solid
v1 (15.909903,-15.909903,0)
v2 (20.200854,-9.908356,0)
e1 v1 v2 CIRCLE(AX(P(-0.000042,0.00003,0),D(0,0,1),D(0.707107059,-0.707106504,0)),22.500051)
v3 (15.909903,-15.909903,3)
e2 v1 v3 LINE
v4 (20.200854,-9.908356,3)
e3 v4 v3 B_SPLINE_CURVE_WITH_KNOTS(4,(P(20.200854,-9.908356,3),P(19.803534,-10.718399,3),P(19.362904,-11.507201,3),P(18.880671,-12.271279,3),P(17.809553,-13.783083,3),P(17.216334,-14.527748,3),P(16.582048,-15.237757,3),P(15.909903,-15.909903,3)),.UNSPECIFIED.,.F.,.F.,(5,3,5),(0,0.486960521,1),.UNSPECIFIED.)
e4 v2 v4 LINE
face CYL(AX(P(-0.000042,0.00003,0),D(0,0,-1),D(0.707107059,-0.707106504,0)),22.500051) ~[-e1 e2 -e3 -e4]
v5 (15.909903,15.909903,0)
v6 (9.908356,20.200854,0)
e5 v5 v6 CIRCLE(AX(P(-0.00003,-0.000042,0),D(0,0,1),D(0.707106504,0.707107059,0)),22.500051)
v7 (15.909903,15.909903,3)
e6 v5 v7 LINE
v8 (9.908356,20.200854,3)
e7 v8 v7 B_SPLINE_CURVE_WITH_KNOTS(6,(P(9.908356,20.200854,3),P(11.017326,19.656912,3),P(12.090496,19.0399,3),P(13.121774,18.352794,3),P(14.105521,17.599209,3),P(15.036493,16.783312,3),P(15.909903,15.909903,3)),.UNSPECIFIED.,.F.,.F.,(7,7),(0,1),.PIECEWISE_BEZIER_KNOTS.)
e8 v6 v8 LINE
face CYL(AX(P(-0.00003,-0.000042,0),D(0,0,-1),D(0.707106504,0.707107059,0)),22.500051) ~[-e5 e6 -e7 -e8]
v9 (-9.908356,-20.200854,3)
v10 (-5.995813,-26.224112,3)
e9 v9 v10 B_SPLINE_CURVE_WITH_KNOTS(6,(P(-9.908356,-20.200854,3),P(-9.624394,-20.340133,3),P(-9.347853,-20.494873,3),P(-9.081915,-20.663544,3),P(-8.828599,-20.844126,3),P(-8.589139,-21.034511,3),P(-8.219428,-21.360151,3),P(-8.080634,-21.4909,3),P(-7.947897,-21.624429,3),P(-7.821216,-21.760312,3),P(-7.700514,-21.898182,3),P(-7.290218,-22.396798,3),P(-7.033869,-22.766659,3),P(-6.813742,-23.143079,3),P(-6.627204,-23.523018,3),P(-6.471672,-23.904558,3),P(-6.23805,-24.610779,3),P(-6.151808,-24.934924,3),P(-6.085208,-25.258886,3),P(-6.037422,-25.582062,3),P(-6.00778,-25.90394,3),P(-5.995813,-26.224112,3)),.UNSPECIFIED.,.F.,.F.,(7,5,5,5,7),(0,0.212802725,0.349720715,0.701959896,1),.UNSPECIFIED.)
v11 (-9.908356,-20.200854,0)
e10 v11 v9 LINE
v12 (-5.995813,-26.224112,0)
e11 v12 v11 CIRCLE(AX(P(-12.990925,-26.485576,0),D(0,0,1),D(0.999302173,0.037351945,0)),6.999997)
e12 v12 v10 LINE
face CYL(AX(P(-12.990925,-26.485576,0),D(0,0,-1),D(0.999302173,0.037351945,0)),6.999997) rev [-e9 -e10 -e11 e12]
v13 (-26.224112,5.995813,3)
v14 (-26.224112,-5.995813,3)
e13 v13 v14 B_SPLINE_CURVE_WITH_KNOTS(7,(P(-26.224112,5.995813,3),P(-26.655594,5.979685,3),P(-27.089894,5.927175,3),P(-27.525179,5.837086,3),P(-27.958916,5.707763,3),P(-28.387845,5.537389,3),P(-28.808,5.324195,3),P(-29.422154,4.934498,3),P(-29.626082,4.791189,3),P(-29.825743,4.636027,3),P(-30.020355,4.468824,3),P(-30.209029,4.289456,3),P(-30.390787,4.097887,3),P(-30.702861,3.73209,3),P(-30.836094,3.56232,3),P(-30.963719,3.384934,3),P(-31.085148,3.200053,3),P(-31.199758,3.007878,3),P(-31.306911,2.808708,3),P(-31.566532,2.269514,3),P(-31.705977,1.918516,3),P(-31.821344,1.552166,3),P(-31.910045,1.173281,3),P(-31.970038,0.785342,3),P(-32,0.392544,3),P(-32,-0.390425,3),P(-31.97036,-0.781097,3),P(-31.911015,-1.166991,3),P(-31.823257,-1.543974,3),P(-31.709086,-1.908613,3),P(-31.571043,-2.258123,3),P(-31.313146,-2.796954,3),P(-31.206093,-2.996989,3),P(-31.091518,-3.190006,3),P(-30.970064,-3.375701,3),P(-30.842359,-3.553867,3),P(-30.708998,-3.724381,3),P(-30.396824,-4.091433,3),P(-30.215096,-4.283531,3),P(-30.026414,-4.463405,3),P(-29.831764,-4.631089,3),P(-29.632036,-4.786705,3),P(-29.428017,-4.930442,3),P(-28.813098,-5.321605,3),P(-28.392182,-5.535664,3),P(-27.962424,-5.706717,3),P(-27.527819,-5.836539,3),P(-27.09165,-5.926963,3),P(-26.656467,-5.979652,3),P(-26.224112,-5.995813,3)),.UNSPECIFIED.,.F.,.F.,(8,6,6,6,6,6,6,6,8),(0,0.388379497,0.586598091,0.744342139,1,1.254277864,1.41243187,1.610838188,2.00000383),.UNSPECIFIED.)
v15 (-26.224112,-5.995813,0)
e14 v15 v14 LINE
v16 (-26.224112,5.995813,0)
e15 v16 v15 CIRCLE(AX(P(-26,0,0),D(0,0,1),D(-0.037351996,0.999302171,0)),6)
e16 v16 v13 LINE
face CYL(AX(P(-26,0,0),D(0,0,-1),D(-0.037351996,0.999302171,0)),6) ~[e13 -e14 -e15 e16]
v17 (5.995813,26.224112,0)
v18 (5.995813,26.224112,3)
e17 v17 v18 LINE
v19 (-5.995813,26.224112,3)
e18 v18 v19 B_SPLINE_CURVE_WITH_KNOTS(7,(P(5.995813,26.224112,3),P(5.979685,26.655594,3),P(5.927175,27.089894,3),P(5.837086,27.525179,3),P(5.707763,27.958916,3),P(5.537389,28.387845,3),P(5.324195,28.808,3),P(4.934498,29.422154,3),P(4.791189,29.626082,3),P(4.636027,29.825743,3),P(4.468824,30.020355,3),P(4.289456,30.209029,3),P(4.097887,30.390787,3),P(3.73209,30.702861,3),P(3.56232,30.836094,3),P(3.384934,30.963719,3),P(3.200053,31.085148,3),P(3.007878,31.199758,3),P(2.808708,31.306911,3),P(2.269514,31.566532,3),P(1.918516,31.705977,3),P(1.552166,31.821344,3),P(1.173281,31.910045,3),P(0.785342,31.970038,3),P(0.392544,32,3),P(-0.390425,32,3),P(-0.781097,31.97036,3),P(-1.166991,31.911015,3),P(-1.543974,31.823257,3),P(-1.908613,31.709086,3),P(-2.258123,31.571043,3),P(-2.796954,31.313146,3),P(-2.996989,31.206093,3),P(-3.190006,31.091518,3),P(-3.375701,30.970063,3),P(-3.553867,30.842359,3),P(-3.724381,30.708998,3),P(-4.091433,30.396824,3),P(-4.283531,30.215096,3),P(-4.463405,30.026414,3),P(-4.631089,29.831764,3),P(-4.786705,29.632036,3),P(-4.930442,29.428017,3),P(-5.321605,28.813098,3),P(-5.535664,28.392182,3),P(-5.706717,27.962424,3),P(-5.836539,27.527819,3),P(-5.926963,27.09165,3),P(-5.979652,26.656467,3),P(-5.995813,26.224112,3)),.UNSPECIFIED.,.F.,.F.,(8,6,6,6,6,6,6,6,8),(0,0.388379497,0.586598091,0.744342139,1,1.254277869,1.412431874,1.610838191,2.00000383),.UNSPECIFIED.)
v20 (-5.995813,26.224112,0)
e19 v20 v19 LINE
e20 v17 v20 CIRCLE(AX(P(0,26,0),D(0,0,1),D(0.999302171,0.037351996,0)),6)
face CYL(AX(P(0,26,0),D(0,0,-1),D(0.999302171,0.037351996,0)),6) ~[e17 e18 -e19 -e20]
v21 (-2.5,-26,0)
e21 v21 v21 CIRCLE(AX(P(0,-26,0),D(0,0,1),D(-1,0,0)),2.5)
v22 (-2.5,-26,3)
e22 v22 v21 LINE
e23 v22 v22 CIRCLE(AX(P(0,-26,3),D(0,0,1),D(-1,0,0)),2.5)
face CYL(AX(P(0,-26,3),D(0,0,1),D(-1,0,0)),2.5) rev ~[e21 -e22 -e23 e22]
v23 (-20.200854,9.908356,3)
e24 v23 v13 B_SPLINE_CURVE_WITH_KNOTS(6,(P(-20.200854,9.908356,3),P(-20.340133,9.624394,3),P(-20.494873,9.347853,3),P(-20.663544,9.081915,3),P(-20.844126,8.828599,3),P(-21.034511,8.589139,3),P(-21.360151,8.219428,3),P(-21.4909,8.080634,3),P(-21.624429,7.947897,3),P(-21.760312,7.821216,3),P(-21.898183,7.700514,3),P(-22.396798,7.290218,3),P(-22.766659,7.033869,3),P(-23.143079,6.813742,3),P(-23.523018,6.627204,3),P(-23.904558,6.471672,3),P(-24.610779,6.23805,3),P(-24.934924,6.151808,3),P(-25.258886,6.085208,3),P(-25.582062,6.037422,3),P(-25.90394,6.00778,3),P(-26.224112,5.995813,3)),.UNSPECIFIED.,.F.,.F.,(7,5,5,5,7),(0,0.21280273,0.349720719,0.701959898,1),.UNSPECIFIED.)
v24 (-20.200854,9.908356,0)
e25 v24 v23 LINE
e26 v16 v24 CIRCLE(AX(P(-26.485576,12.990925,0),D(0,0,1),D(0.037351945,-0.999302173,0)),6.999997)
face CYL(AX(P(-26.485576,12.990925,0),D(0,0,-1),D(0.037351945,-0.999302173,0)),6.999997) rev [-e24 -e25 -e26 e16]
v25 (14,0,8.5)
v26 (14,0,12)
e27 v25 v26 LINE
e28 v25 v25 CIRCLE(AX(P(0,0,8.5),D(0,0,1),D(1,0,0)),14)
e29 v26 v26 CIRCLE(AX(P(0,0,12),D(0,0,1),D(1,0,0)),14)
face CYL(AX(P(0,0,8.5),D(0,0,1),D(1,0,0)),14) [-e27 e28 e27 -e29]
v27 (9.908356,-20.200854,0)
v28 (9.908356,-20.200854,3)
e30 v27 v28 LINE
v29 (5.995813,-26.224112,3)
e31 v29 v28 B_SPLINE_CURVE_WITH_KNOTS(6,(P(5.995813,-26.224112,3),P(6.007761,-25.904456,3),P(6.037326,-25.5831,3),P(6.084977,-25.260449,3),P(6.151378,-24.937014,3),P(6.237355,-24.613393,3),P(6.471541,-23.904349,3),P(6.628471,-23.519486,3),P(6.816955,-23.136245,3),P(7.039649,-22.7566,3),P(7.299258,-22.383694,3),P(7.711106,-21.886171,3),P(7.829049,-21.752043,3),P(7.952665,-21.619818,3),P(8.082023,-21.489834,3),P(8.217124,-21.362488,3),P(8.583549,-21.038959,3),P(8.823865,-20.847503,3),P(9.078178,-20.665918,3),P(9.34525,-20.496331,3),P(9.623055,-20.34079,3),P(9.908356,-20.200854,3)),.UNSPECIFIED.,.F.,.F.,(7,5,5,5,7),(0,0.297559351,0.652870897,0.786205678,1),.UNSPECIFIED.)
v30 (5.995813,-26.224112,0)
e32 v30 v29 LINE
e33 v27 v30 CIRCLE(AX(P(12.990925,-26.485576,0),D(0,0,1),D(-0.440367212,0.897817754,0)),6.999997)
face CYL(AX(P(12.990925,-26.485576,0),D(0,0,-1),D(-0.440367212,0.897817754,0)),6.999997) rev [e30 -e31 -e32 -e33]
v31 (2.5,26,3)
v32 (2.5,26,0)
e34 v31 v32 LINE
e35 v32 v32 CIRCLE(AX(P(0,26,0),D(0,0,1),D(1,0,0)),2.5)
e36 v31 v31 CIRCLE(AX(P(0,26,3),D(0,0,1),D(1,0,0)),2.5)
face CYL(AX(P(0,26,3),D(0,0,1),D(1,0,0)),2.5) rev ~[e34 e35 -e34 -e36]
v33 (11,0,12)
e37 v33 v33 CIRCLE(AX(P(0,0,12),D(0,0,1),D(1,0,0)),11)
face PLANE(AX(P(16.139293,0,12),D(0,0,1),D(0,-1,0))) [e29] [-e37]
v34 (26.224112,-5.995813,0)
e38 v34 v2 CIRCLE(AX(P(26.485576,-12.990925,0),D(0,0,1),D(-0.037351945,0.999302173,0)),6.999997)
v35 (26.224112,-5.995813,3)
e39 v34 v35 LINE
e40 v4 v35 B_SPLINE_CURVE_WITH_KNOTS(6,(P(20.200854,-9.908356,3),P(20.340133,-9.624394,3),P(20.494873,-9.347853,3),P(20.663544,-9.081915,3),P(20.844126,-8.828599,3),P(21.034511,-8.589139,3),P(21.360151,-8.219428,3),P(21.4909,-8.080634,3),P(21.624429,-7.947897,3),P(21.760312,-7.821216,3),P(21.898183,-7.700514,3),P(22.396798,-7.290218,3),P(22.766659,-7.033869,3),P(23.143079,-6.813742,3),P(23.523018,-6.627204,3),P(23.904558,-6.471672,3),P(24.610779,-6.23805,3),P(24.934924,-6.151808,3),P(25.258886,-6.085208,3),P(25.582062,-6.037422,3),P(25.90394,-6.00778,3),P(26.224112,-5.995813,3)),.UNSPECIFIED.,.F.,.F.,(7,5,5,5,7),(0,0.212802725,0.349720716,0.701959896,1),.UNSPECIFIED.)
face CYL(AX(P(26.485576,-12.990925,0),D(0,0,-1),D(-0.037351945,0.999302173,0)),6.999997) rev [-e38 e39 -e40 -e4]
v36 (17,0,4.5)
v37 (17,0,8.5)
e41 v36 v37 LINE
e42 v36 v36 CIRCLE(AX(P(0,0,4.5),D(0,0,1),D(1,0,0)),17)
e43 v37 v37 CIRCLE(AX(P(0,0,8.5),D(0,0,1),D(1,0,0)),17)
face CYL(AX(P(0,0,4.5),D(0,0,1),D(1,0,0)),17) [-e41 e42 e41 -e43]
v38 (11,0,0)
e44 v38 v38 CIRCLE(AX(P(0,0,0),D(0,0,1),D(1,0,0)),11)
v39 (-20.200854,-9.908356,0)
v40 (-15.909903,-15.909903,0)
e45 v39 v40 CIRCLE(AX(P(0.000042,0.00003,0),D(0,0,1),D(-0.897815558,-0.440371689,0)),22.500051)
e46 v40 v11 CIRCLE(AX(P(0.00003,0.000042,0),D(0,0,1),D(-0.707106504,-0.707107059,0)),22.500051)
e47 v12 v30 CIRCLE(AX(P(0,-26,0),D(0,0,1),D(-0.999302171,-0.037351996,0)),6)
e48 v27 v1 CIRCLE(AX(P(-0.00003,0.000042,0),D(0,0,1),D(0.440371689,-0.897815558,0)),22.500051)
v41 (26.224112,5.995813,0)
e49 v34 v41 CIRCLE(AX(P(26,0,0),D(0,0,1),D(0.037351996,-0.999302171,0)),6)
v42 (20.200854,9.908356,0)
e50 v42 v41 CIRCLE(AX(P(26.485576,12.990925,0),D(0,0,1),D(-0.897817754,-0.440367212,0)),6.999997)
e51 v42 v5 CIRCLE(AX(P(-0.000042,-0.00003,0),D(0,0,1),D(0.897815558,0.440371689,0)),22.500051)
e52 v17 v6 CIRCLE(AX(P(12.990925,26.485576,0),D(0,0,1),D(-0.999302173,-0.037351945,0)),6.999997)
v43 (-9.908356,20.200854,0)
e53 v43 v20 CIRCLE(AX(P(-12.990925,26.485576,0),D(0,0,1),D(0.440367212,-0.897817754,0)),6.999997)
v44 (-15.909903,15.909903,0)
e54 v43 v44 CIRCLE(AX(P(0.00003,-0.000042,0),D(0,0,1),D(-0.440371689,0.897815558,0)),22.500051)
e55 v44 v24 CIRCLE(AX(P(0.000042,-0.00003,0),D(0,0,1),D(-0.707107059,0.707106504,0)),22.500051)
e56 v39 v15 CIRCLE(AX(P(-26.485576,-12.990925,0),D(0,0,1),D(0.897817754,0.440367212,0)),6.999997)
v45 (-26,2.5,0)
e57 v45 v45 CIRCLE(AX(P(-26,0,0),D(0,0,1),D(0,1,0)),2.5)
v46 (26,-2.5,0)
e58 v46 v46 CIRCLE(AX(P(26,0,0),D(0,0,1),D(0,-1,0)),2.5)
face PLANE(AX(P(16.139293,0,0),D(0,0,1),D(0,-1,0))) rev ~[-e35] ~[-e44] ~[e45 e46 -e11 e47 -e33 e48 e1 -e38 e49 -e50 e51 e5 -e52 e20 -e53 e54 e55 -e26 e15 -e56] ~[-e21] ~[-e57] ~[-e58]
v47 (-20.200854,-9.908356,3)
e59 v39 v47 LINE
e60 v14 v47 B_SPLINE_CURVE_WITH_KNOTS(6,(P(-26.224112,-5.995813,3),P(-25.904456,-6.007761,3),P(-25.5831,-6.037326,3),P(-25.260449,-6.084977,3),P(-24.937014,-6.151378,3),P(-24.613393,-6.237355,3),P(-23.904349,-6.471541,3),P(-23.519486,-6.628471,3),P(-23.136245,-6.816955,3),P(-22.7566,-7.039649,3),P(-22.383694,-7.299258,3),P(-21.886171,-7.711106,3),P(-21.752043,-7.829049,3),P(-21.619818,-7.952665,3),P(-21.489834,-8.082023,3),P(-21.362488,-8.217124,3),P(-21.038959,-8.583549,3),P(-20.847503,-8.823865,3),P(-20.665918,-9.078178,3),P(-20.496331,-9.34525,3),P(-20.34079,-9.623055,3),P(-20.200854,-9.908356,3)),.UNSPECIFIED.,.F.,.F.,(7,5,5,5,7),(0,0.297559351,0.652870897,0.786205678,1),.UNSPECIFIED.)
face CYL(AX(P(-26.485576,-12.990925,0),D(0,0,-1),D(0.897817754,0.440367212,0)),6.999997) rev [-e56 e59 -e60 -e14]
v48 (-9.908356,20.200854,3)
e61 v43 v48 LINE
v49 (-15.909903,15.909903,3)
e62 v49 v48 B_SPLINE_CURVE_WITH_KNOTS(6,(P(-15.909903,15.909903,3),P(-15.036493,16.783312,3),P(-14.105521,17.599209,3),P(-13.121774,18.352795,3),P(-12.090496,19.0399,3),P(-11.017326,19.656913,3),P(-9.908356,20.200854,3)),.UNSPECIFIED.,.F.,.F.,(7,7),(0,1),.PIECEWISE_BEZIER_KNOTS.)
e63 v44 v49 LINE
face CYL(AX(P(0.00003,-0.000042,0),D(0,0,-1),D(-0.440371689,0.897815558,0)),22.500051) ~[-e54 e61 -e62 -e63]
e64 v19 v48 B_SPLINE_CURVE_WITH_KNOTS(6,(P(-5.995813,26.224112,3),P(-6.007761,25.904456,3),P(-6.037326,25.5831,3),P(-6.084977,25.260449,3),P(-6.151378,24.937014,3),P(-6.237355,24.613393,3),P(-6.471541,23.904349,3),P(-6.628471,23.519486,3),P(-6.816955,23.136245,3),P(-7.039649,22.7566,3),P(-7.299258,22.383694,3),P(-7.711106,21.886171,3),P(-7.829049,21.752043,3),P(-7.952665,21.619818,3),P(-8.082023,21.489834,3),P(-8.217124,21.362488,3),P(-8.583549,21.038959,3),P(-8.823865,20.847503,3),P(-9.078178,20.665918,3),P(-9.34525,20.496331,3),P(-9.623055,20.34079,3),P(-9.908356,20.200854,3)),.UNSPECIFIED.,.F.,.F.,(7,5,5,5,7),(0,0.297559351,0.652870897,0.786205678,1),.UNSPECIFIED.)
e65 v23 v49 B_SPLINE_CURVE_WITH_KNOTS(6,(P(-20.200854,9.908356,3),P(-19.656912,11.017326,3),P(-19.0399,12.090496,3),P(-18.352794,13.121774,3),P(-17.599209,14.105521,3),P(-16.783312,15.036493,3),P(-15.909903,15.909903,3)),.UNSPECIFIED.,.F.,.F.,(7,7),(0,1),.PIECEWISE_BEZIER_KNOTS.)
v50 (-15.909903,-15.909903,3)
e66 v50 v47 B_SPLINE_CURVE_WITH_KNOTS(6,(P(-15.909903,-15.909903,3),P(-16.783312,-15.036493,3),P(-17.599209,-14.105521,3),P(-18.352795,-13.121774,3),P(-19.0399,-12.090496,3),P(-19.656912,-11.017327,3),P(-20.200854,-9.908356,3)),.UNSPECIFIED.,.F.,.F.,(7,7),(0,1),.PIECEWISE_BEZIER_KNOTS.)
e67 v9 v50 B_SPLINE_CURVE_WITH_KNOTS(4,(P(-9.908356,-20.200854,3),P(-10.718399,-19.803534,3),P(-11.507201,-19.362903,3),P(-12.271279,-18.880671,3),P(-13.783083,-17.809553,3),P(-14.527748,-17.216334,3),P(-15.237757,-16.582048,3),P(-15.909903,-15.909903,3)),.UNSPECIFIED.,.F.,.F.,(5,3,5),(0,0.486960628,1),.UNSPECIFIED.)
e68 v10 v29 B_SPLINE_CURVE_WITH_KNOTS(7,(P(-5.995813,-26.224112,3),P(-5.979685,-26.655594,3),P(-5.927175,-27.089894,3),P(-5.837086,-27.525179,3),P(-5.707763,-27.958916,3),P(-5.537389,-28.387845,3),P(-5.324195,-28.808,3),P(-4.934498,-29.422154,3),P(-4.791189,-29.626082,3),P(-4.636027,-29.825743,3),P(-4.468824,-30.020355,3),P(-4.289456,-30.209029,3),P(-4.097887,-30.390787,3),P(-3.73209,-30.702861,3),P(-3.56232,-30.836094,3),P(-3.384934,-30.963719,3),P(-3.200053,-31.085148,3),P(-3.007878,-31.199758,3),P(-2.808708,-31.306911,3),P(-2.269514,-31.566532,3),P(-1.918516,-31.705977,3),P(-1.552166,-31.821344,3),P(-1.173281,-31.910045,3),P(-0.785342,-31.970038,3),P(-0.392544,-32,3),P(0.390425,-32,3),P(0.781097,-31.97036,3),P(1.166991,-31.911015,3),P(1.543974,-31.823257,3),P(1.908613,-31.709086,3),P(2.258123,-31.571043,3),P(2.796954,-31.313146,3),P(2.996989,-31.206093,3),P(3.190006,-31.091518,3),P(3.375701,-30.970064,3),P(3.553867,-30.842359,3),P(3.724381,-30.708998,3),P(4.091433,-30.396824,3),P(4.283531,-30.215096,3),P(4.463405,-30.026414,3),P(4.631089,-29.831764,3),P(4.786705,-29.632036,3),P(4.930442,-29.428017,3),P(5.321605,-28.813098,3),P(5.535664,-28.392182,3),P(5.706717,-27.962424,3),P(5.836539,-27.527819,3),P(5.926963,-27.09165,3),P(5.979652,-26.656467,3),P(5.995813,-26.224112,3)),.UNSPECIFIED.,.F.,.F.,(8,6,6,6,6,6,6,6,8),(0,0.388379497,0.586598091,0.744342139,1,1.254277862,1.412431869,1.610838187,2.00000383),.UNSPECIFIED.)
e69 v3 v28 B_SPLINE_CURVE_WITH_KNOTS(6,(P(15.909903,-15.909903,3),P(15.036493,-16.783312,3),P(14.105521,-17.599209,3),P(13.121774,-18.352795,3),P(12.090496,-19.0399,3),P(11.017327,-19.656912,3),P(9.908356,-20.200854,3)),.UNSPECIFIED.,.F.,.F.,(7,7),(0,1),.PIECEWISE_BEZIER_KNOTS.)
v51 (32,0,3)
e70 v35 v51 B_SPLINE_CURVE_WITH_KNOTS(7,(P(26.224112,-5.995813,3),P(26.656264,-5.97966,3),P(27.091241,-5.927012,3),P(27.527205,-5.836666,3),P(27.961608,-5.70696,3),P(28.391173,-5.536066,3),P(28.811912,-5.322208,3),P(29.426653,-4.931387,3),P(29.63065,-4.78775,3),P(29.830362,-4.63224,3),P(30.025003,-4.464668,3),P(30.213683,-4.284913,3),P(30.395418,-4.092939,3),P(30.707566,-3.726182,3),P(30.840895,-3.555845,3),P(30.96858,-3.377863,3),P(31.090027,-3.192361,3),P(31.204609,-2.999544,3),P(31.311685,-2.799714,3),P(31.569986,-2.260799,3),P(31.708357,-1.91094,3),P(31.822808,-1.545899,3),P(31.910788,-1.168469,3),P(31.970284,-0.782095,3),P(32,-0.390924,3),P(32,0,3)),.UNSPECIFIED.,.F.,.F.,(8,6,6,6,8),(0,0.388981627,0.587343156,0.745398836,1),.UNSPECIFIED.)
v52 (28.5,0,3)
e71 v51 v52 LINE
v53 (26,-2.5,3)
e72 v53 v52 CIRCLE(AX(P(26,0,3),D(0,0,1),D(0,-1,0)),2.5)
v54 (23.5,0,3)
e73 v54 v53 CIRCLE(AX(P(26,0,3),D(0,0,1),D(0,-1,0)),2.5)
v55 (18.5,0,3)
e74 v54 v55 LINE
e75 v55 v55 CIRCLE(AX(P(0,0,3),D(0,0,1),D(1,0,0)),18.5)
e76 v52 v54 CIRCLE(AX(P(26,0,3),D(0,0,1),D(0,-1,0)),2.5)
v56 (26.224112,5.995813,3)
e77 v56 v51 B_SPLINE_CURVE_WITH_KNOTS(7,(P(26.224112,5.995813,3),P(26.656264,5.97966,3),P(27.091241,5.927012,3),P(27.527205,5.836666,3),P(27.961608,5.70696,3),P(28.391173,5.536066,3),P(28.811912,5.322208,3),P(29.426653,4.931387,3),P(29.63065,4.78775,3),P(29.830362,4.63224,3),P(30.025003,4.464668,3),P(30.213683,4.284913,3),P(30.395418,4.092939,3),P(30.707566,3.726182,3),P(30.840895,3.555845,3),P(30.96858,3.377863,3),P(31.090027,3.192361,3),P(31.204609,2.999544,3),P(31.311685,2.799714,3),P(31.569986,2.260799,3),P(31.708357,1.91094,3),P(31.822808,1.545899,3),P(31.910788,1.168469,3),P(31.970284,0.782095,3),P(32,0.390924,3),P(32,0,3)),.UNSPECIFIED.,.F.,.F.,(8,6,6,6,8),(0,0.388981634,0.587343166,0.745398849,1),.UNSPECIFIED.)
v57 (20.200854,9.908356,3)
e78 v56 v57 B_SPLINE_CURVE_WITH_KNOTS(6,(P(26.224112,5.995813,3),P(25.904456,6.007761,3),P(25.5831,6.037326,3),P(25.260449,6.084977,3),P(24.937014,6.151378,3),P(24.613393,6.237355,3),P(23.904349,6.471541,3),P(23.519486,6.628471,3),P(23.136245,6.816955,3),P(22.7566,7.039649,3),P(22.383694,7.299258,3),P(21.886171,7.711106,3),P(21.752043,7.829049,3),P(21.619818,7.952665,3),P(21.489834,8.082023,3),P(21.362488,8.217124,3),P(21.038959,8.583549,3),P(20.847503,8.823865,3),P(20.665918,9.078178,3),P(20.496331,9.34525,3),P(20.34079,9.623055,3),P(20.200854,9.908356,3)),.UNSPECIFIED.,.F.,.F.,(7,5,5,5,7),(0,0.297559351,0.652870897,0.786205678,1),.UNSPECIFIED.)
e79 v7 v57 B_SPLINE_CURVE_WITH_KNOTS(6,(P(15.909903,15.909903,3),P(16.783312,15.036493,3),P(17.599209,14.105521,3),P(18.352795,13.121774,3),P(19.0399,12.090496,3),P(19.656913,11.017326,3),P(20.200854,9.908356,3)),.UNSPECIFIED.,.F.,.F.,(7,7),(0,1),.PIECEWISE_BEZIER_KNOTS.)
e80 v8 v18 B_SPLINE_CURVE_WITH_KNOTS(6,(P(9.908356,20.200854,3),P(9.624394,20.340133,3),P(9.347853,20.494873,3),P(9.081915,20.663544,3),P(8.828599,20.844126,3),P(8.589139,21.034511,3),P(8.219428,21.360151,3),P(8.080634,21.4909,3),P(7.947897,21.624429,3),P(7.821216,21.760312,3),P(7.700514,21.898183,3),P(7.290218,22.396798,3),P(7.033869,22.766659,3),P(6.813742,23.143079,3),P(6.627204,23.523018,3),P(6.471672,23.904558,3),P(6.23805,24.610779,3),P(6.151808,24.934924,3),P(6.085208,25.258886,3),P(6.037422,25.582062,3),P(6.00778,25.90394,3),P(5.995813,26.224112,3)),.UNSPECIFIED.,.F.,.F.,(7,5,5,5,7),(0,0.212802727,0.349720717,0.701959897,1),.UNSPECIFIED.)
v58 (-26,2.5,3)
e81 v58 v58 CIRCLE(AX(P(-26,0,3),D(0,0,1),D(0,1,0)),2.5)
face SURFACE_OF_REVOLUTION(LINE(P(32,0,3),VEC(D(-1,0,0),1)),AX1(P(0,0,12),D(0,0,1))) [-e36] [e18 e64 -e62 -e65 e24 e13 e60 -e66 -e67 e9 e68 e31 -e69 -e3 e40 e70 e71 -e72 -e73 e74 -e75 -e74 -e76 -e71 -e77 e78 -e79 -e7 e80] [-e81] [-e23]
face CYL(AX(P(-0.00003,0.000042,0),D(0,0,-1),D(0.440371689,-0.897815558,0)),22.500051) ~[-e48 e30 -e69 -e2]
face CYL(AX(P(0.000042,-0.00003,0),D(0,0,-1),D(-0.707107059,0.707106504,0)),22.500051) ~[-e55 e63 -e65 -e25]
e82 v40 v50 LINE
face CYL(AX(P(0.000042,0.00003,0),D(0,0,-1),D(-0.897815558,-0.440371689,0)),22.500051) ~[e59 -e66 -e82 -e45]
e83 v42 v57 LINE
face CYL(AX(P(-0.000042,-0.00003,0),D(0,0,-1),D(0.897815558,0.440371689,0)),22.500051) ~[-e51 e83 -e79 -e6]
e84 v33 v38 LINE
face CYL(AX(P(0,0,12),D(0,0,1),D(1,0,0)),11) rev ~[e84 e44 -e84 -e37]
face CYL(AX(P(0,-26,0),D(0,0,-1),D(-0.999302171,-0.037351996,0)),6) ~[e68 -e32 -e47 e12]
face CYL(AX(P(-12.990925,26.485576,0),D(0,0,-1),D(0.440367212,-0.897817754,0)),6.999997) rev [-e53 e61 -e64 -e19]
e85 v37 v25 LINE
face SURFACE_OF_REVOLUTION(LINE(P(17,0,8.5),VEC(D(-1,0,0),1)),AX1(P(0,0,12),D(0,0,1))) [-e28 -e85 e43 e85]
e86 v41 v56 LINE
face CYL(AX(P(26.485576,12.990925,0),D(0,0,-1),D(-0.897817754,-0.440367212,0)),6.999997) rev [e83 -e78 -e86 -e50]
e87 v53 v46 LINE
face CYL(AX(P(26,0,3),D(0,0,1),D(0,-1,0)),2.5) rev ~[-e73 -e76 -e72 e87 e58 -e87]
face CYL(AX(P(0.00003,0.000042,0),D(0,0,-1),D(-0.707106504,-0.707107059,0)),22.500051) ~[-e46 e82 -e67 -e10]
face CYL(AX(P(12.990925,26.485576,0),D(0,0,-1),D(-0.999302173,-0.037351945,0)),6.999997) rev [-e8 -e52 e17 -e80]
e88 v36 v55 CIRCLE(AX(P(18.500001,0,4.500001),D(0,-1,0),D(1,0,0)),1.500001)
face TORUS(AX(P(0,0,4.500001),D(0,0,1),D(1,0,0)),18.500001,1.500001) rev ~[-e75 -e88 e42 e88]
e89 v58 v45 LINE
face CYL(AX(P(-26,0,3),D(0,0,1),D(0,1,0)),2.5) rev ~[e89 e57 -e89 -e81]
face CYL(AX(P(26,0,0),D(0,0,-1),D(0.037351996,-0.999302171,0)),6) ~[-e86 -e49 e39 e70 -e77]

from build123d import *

# Parameters (mm, degrees)
PAD_DEPTH             = 12
POLARPATTERN_COUNT    = 4
SKETCH003_R           = 11
POCKET_DEPTH          = 12.001
SKETCH004_R           = 2.5
POCKET001_DEPTH       = 185.604396
POLARPATTERN001_COUNT = 4


with BuildPart() as part:
    # Sketch → Pad (new body)
    with BuildSketch(Plane.XY):
        with BuildLine():
            ThreePointArc((15.909903, 15.909903), (13.086202, 18.303041), (9.908356, 20.200854))
            ThreePointArc((5.995813, 26.224112), (7.120676, 22.672423), (9.908356, 20.200854))
            ThreePointArc((5.995813, 26.224112), (0, 32), (-5.995813, 26.224112))
            ThreePointArc((-9.908356, 20.200854), (-7.120676, 22.672423), (-5.995813, 26.224112))
            ThreePointArc((-9.908356, 20.200854), (-13.086202, 18.303041), (-15.909903, 15.909903))
            Line((-15.909903, 15.909903), (0, 0))
            Line((0, 0), (15.909903, 15.909903))
        make_face()
    pad = extrude(amount=PAD_DEPTH)

    # PolarPattern: Pad ×4 about axis
    polarpattern_axis = Axis((0, 0, 0), (0, 0, 1))
    for i in range(1, POLARPATTERN_COUNT):
        add(pad.rotate(polarpattern_axis, i * 360 / POLARPATTERN_COUNT))

    # SubtractivePipe: sweep along a path in Sketch002
    with BuildLine(Plane.XY.offset(12)) as subtractivepipe_path:
        CenterArc((0, 0), 14, 0, 360)
    # Sketch001 → SubtractivePipe (sweep, cut)
    with BuildSketch(Plane.YZ):
        with BuildLine():
            Line((-14, 12), (-32, 12))
            Line((-32, 12), (-32, 3))
            Line((-32, 3), (-18.5, 3))
            ThreePointArc((-18.5, 3), (-17.43934, 3.43934), (-17, 4.5))
            Line((-17, 4.5), (-17, 8.5))
            Line((-17, 8.5), (-14, 8.5))
            Line((-14, 8.5), (-14, 12))
        make_face()
    sweep(path=subtractivepipe_path.line, mode=Mode.SUBTRACT)

    # Sketch003 (on Face31 of SubtractivePipe) → Pocket (cut, through all)
    with BuildSketch(Plane.XY.offset(12)):
        Circle(SKETCH003_R)
    extrude(amount=-POCKET_DEPTH, mode=Mode.SUBTRACT)

    # Sketch004 (on Face4 of Pocket) → Pocket001 (cut, through all)
    with BuildSketch(Plane.XY.offset(3)):
        with Locations((0, 26)):
            Circle(SKETCH004_R)
    pocket001 = extrude(amount=-POCKET001_DEPTH, mode=Mode.SUBTRACT)

    # PolarPattern001: Pocket001 ×4 about axis
    polarpattern001_axis = Axis((0, 0, 3), (0, 0, 1))
    for i in range(1, POLARPATTERN001_COUNT):
        add(pocket001.rotate(polarpattern001_axis, i * 360 / POLARPATTERN001_COUNT), mode=Mode.SUBTRACT)


solid = part.part
